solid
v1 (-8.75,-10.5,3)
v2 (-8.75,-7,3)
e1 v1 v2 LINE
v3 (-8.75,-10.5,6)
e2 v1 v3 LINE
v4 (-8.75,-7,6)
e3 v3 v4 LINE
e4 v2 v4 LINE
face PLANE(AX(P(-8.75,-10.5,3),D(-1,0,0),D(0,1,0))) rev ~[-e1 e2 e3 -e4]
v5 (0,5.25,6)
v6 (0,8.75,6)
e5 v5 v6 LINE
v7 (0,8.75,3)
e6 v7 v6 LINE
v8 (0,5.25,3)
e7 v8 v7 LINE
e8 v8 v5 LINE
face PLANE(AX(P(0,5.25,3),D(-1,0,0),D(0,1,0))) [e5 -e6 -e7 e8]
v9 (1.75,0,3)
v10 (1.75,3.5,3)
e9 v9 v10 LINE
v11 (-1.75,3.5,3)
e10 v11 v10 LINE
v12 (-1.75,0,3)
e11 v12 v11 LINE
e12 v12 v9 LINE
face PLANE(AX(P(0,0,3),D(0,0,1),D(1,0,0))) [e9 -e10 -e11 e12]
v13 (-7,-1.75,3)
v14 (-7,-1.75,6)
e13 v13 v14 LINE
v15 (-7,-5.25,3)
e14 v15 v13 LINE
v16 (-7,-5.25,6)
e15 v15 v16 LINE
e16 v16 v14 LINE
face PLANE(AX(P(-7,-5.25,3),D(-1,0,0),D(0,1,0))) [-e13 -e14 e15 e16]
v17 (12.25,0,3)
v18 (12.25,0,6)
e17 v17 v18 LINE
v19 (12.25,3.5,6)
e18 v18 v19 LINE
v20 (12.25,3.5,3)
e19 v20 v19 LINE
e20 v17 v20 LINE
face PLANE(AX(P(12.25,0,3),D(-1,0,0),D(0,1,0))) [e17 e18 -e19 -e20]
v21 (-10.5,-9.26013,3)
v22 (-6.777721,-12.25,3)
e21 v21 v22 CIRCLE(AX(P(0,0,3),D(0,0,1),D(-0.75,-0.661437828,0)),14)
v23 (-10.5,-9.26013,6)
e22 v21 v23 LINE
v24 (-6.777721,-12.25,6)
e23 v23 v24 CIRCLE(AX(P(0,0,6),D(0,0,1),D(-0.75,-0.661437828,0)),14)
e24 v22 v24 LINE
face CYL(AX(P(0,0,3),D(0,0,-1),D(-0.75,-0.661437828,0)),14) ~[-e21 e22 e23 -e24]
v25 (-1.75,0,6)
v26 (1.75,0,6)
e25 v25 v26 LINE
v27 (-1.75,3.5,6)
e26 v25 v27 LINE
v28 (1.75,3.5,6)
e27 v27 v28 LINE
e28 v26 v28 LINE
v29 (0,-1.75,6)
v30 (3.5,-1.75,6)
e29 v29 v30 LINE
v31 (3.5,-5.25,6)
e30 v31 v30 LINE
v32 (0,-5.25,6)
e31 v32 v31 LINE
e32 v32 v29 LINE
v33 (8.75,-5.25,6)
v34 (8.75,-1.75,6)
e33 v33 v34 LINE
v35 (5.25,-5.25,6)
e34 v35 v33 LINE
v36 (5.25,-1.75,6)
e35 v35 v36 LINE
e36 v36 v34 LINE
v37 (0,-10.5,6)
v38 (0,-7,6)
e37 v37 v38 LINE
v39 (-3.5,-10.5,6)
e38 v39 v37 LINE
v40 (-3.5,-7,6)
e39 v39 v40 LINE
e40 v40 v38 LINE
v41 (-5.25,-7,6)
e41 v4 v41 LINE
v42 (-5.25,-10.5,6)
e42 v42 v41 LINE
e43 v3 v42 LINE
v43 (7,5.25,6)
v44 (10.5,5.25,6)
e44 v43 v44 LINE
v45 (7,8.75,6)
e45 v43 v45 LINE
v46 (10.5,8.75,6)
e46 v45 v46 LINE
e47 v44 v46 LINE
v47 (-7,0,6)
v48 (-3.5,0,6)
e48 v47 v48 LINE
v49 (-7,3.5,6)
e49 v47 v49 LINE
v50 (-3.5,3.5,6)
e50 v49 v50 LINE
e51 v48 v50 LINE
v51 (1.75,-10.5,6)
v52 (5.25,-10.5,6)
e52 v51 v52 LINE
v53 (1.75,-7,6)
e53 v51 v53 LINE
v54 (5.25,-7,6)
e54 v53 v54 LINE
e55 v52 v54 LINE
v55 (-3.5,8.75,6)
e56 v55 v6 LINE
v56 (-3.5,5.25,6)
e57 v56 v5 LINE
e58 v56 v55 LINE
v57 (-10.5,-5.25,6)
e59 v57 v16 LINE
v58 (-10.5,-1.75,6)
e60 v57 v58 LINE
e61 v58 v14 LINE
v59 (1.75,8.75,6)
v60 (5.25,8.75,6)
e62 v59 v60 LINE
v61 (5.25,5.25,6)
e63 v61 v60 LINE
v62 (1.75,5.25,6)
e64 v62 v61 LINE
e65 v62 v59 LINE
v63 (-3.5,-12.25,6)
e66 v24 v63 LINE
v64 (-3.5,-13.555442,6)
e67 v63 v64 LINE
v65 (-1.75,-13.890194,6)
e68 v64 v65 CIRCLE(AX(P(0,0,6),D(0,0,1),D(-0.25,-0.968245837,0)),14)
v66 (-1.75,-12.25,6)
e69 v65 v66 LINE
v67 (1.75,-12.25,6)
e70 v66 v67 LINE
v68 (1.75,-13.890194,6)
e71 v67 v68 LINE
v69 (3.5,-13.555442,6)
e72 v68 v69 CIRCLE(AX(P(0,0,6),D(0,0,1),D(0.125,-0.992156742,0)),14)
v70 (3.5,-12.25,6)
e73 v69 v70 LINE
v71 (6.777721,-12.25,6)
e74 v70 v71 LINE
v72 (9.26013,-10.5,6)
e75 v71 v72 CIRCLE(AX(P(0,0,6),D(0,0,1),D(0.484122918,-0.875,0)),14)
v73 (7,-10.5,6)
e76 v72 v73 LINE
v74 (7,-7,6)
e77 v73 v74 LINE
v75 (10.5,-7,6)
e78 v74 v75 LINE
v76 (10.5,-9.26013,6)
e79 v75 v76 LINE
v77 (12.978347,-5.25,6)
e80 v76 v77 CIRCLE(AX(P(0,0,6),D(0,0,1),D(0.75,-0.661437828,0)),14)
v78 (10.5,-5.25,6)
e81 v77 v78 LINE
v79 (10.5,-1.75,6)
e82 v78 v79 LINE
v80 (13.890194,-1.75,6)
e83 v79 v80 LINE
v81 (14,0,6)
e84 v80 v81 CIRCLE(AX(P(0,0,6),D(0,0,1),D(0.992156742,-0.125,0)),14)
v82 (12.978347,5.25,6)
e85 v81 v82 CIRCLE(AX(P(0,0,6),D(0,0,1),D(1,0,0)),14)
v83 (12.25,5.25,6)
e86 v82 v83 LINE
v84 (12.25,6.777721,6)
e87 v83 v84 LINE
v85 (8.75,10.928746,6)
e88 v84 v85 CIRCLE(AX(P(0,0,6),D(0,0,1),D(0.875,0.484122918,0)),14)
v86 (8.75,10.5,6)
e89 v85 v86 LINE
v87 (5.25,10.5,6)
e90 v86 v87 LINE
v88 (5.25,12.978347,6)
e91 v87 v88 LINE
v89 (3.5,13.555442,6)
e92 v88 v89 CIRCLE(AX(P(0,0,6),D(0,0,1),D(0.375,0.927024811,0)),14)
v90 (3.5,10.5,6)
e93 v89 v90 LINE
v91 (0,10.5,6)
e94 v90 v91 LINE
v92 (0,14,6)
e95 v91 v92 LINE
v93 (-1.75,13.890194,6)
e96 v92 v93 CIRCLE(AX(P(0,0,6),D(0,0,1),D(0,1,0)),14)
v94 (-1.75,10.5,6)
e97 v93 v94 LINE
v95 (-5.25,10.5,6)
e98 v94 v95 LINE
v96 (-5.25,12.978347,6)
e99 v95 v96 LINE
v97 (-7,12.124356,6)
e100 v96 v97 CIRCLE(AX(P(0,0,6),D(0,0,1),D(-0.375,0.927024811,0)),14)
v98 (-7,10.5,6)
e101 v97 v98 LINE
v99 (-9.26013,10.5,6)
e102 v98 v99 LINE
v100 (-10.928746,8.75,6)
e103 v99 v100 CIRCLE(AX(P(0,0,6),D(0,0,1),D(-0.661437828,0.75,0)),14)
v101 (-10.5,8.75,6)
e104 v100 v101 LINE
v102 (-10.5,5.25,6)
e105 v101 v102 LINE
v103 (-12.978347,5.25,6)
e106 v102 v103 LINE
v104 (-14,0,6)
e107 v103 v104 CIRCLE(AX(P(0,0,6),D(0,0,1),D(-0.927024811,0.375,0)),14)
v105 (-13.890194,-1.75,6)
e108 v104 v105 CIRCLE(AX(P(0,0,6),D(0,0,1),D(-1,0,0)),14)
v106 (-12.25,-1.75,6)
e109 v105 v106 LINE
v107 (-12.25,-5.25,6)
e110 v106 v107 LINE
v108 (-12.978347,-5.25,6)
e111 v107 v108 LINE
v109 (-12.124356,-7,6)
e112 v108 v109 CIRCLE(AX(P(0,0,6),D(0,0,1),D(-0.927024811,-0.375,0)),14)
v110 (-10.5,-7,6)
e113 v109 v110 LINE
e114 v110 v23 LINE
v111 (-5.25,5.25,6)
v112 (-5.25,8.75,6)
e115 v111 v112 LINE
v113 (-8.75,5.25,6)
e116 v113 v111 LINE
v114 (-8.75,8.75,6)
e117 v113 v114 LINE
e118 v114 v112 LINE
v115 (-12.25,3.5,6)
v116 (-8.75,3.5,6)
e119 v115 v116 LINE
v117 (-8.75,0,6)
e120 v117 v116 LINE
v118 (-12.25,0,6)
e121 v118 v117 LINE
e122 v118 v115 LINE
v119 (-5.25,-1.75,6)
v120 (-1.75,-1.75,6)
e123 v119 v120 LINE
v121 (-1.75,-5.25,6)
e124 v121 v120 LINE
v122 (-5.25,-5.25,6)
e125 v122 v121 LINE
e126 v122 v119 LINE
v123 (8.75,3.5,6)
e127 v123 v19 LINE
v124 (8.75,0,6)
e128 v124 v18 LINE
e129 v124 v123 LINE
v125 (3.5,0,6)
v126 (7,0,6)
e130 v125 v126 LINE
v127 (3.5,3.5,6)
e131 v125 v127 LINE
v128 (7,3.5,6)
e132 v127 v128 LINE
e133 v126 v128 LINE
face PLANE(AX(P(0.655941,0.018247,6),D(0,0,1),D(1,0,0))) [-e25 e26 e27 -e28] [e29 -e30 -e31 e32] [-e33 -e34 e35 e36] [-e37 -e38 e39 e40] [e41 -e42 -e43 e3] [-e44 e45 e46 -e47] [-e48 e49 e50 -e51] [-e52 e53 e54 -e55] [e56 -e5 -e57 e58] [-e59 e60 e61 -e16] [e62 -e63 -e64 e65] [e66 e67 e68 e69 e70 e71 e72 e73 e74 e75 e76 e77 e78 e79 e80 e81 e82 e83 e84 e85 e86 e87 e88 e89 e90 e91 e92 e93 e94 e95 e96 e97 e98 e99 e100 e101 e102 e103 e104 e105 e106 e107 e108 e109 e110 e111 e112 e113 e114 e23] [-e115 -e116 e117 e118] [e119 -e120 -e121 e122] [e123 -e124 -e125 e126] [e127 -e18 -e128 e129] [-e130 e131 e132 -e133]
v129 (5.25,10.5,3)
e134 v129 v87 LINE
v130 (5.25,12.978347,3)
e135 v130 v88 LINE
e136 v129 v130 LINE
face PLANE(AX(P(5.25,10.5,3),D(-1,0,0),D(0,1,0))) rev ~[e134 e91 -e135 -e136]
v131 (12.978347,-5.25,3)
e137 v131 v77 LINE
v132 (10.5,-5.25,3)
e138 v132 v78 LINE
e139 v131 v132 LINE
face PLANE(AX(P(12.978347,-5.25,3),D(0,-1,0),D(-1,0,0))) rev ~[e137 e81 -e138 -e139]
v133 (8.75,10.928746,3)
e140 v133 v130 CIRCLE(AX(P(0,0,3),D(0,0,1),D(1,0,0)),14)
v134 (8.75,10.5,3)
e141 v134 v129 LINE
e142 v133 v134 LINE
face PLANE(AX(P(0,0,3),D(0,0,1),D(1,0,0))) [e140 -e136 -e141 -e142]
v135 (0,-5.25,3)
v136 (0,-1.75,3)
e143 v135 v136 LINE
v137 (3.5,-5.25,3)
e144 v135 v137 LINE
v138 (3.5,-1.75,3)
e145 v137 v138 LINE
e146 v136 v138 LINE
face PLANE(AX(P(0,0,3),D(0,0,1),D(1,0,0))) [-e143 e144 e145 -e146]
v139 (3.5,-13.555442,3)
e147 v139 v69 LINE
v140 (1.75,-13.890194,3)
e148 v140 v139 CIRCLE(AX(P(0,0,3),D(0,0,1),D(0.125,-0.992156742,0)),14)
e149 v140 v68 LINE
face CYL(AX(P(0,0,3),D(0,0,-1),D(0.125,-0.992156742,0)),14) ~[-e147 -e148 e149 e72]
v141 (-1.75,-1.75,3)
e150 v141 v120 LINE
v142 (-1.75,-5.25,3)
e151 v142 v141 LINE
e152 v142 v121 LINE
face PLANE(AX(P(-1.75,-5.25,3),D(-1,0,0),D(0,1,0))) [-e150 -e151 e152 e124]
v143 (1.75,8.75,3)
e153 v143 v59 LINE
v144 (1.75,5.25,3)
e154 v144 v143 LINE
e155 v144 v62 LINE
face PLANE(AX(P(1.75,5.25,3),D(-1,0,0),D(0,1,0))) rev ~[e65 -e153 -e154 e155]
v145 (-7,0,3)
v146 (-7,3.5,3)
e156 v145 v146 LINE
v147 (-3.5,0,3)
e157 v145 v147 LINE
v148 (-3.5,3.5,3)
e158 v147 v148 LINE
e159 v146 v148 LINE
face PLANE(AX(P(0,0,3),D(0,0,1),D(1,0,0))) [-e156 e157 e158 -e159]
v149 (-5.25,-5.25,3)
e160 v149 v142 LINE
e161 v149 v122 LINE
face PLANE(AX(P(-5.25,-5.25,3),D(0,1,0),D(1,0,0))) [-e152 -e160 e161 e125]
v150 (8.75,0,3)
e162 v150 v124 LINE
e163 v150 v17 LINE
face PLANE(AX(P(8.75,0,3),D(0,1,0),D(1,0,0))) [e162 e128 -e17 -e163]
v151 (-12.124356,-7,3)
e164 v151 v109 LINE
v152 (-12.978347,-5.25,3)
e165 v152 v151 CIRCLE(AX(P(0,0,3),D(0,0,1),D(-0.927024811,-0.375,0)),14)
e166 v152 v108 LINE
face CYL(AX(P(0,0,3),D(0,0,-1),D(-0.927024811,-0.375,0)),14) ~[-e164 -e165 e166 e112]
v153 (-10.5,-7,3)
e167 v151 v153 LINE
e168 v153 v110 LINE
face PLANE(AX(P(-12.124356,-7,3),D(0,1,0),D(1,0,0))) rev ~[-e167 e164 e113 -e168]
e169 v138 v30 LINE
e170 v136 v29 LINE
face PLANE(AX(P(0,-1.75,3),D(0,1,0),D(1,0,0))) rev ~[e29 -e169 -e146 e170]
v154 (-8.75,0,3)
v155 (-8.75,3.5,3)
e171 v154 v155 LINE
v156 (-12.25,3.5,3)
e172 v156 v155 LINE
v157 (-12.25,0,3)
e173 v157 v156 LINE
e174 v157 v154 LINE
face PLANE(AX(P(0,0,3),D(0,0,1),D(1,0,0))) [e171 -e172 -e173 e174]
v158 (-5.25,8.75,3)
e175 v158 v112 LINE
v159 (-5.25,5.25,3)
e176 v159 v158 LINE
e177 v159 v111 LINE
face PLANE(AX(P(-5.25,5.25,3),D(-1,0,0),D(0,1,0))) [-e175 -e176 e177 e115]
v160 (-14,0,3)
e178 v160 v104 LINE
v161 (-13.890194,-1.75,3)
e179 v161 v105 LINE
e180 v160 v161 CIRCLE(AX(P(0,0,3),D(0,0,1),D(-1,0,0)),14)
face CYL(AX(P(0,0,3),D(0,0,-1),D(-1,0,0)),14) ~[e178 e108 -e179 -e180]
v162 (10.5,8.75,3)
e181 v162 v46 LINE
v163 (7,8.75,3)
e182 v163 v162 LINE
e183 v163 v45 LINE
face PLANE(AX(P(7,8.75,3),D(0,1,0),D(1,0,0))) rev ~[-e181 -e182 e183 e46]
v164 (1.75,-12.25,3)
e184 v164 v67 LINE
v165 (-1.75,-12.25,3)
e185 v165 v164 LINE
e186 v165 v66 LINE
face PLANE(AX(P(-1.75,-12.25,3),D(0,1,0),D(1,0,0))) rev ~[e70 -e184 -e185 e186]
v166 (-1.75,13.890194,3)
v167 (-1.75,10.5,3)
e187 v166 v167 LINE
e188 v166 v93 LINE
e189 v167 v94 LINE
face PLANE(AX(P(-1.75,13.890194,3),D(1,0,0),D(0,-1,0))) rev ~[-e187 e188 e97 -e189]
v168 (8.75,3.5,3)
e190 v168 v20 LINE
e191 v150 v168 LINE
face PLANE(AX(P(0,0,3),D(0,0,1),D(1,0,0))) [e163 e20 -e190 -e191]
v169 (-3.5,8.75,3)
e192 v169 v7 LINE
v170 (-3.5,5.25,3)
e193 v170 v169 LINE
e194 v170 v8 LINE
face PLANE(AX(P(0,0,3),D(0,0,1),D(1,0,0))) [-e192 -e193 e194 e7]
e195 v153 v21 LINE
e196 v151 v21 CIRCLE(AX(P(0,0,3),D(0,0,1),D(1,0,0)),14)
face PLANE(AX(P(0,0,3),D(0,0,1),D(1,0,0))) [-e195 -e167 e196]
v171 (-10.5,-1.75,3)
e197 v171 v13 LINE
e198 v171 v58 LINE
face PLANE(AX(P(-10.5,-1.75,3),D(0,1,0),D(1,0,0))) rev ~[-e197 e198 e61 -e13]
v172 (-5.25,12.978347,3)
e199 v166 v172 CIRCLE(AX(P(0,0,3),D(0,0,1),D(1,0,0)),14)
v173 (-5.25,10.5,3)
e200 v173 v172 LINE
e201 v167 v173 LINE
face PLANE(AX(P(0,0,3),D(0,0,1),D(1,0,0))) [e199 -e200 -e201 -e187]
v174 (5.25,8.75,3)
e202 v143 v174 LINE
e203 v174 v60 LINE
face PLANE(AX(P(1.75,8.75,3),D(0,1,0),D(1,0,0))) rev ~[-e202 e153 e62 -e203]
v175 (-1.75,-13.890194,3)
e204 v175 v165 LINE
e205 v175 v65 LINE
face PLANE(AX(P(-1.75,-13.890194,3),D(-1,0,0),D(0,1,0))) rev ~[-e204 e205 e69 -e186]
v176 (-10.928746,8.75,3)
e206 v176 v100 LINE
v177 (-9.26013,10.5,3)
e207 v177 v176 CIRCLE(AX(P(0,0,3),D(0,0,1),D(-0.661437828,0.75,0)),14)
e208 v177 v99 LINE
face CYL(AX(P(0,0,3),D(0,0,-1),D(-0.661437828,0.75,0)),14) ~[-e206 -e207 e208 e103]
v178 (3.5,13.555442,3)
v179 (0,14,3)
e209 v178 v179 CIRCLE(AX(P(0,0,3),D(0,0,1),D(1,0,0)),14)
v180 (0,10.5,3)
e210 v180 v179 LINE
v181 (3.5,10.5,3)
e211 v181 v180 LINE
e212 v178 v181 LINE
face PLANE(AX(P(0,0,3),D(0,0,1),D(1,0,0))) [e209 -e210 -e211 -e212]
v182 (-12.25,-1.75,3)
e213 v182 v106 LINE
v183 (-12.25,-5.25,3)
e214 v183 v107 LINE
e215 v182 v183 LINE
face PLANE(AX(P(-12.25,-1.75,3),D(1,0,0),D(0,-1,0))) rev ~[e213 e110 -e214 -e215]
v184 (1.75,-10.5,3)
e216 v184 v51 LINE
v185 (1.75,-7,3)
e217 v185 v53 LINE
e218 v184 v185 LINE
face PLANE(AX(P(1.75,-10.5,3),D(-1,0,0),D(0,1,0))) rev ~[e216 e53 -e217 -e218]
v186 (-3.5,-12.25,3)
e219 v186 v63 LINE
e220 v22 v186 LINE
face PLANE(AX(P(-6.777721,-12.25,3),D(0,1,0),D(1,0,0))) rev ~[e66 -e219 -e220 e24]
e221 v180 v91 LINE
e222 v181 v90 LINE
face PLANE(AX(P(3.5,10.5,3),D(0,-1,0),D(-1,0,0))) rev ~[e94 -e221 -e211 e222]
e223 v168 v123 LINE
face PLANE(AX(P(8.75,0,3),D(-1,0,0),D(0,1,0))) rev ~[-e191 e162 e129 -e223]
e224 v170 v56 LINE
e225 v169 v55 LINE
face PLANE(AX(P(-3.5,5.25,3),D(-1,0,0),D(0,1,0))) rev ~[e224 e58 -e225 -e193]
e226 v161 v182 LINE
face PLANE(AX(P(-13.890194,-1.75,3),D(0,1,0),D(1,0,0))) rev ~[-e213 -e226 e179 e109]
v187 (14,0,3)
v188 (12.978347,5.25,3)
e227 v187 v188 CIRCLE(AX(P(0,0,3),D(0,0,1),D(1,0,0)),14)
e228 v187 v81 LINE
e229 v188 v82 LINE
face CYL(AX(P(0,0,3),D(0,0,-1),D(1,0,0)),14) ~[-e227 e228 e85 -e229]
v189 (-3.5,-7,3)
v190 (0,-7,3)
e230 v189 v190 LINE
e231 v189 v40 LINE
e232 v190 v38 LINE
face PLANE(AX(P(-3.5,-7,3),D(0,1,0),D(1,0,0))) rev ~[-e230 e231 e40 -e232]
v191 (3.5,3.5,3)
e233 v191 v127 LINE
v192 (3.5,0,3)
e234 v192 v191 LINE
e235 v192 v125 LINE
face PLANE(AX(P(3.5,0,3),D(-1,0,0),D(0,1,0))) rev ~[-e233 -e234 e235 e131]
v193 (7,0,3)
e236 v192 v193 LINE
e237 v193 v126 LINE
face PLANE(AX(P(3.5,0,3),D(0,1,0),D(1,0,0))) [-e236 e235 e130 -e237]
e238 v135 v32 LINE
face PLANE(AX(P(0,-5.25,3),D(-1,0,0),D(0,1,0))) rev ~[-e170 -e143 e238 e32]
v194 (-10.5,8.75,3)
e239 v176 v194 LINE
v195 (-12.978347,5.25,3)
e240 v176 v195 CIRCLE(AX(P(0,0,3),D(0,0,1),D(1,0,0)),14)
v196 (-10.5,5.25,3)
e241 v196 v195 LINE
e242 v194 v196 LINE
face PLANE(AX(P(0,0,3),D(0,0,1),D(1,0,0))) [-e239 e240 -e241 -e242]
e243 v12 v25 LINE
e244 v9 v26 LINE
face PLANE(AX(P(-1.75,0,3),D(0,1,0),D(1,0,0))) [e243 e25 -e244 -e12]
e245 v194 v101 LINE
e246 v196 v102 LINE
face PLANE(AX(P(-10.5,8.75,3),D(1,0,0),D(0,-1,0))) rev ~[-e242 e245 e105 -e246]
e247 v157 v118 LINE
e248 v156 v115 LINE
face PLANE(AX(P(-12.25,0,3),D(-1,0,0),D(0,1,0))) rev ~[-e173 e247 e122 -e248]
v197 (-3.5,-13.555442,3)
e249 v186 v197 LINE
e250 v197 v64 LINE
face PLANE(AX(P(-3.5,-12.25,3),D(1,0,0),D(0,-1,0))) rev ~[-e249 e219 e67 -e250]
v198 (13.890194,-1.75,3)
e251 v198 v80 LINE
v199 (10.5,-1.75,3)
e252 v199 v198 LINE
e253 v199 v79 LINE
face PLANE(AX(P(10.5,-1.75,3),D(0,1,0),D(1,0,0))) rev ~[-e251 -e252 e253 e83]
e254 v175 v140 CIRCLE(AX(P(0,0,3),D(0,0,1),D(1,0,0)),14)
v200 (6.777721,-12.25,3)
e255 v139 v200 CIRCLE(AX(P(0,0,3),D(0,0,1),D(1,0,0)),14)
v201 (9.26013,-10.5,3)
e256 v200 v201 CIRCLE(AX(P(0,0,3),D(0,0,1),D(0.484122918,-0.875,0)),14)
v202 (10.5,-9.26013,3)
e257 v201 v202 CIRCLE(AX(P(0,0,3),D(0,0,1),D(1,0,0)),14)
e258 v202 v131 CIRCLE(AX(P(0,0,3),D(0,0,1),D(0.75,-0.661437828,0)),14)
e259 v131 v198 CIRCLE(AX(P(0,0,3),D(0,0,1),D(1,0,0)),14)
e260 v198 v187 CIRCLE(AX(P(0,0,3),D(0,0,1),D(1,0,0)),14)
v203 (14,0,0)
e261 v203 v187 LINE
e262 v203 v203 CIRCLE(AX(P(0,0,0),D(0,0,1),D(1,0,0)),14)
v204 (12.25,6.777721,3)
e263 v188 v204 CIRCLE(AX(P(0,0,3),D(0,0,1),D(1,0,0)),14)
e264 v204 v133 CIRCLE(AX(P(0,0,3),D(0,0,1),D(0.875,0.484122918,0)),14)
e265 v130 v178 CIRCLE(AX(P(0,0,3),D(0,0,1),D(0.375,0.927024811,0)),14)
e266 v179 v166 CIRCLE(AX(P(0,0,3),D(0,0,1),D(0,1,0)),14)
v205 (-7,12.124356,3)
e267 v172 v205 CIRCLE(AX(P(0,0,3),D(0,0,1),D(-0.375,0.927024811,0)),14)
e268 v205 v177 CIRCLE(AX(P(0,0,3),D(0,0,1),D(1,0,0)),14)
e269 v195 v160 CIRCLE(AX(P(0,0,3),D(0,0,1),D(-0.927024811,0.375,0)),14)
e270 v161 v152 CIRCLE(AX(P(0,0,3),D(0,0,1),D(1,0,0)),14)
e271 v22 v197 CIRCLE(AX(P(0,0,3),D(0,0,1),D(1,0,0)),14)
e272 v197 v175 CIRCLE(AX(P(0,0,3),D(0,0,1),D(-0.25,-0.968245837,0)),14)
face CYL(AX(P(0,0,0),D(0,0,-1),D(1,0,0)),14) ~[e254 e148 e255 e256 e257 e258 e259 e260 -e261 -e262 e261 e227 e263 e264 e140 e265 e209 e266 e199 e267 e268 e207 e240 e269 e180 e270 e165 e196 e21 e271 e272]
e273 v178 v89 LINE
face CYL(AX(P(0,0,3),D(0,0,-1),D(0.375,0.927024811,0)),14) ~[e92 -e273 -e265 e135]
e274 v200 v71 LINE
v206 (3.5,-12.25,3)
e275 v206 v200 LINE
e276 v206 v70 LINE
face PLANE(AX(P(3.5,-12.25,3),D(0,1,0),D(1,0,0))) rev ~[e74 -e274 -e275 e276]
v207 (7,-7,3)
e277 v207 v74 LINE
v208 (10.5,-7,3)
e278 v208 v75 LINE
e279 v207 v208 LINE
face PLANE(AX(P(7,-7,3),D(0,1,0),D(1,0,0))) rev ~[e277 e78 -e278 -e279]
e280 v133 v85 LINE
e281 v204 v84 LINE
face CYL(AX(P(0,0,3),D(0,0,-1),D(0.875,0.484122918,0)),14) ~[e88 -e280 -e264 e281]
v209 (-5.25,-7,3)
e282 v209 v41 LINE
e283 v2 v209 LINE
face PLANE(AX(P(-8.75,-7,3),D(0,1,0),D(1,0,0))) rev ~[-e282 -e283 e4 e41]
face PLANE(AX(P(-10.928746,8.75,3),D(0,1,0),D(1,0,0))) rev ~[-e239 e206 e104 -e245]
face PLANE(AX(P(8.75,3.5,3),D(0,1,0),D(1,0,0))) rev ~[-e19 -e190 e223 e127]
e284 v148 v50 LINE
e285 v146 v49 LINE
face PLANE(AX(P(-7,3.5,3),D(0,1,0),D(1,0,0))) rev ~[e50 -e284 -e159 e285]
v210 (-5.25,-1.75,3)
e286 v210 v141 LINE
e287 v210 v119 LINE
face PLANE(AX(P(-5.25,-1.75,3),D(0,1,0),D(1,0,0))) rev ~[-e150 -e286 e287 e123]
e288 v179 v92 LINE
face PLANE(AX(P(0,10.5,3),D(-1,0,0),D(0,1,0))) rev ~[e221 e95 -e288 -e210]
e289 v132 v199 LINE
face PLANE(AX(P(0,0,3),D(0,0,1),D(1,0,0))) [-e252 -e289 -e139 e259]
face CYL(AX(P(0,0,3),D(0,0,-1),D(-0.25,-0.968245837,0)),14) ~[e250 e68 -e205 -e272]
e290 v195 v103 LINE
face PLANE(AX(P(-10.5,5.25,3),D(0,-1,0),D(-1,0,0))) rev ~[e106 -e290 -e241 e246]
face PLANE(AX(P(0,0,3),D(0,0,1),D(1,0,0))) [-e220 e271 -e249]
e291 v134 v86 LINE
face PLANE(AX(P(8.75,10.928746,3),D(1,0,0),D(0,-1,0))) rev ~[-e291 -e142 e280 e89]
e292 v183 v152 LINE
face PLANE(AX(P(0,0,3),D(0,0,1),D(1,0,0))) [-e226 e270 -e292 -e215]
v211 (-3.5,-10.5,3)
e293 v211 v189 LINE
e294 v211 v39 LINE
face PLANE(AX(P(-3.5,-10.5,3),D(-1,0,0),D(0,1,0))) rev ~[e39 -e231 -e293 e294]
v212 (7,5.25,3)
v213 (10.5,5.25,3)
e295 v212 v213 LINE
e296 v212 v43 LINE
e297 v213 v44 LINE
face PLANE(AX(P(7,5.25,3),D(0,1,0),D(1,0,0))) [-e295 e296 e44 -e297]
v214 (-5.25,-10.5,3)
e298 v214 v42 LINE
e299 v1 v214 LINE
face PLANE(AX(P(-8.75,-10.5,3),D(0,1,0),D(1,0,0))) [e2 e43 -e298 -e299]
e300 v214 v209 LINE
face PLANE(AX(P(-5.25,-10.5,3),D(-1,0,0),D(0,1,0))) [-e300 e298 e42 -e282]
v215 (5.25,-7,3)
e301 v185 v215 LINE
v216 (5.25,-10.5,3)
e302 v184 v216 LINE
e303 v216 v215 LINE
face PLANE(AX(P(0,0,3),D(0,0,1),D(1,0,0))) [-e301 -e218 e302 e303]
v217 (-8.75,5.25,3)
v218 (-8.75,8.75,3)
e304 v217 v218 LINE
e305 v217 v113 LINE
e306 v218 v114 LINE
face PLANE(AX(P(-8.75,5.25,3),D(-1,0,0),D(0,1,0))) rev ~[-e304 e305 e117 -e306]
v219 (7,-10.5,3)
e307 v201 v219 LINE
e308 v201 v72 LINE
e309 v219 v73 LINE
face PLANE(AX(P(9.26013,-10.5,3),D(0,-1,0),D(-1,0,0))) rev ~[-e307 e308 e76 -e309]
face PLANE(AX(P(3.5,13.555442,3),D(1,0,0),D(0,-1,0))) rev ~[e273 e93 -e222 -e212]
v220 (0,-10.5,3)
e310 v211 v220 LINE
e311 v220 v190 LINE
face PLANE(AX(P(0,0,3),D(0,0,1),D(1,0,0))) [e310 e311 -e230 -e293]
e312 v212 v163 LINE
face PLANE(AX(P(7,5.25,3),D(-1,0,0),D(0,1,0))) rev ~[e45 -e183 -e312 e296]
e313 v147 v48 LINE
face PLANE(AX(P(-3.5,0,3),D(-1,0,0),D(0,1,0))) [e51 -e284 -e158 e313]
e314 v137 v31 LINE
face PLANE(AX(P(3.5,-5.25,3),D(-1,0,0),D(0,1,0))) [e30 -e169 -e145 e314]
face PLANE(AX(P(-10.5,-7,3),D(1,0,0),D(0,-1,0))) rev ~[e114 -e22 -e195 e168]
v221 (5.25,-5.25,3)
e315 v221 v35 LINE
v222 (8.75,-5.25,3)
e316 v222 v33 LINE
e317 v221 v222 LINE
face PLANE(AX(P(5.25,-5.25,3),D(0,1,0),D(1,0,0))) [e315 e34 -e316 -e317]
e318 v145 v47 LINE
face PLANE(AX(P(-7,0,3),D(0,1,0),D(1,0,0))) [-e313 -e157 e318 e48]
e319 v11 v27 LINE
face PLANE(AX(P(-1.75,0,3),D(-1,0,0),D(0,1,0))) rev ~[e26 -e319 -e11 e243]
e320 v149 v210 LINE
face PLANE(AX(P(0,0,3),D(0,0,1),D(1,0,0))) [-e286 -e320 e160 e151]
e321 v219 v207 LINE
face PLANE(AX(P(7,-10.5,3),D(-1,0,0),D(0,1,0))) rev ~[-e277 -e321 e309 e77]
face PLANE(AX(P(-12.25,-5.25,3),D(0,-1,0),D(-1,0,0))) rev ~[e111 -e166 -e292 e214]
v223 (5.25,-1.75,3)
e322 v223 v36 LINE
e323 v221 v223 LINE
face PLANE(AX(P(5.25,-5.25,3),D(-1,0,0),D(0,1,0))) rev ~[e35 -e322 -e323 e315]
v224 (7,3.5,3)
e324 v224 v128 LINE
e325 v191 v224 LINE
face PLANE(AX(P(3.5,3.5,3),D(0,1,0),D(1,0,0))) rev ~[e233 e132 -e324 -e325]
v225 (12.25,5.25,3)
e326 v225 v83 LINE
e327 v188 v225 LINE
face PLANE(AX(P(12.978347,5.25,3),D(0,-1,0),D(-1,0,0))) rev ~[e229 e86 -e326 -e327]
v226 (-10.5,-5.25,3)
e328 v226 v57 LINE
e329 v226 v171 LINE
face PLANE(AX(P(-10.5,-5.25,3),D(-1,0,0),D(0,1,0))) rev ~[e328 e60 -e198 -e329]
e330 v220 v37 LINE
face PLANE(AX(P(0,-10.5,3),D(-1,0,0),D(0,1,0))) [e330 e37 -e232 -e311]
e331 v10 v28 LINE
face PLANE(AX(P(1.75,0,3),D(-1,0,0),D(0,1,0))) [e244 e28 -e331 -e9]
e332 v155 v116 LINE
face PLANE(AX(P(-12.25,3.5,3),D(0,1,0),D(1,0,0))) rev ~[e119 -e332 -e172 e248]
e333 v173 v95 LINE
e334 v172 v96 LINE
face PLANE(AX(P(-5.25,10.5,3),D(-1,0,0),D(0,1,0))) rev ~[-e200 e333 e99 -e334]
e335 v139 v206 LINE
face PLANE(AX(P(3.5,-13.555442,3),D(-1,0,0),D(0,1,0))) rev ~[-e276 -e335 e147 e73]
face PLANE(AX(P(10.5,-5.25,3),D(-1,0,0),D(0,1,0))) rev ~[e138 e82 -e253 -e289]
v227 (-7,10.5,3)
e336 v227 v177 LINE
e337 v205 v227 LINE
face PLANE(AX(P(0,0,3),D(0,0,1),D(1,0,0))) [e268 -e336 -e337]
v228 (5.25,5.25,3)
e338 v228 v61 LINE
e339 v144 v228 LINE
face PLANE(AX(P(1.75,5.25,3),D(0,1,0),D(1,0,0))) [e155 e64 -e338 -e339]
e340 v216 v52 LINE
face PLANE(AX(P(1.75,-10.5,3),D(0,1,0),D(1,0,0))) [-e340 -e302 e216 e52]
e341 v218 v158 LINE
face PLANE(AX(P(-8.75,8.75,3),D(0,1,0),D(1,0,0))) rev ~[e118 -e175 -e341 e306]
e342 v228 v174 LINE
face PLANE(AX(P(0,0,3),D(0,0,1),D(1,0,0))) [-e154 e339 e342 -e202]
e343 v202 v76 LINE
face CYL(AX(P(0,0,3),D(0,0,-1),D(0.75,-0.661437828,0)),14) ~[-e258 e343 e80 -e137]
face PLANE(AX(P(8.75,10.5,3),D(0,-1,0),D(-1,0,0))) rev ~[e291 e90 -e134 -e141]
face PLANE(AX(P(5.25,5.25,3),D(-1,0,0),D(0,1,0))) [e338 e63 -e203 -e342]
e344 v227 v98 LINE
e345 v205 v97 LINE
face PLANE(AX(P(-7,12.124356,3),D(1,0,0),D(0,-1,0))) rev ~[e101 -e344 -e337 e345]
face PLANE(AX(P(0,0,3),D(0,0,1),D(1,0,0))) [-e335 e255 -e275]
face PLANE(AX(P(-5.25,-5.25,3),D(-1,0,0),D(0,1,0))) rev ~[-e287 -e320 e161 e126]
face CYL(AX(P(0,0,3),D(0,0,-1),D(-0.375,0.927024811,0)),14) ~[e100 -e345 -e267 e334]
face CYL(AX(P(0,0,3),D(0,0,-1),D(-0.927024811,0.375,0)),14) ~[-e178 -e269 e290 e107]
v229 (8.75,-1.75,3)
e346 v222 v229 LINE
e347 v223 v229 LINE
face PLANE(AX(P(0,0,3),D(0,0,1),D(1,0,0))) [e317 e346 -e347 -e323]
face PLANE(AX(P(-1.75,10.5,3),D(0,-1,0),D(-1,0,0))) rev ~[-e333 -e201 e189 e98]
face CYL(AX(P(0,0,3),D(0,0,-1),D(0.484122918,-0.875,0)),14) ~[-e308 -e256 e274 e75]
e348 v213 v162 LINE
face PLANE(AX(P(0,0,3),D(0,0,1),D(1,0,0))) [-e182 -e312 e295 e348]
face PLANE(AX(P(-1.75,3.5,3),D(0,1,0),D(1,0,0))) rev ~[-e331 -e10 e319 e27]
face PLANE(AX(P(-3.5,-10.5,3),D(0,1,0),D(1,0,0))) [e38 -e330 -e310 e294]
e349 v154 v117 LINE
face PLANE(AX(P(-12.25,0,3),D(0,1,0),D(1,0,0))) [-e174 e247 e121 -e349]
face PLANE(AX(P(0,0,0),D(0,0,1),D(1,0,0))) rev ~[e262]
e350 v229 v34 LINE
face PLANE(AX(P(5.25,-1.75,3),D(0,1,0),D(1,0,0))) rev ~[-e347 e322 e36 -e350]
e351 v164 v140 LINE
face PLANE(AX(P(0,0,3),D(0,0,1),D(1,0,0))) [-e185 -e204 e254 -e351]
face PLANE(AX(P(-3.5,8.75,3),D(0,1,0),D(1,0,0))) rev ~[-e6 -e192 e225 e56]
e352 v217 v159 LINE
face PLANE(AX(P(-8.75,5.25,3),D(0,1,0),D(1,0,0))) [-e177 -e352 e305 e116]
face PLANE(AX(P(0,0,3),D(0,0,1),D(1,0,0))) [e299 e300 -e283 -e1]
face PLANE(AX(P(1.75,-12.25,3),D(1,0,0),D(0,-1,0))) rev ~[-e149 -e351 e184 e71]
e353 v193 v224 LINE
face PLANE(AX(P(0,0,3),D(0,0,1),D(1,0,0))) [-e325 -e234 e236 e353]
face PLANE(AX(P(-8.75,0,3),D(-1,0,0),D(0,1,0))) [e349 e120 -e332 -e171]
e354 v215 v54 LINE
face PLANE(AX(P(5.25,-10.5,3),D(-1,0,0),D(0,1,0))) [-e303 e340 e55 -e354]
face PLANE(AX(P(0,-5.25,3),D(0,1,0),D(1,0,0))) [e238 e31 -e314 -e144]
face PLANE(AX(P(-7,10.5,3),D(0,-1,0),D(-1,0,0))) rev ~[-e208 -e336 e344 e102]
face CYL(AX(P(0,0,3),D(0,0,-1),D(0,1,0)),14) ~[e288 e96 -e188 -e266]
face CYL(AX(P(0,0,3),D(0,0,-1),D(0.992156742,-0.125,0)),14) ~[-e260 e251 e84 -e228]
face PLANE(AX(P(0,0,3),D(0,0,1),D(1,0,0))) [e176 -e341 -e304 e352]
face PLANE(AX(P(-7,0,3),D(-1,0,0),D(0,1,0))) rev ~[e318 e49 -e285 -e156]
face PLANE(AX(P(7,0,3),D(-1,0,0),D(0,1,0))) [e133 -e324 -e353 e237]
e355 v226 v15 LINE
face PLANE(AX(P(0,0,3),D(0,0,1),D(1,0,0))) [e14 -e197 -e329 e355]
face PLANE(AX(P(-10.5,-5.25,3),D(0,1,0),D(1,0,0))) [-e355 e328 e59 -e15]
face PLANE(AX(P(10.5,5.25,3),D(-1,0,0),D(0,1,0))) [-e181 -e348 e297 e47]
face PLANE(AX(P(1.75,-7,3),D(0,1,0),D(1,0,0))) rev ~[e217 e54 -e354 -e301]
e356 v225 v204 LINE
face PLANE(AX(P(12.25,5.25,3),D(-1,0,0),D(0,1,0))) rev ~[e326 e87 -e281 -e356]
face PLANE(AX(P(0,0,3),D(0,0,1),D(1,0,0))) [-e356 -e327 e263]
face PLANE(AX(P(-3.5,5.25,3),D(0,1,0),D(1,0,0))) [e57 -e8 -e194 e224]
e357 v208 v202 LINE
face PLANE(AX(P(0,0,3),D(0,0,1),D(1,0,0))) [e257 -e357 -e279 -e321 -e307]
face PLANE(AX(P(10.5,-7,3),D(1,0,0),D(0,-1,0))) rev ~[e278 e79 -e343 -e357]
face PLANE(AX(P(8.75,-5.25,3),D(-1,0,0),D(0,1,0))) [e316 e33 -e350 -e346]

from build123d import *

# Parameters (mm, degrees)
F0_R     = 14
F1_DEPTH = 3
F2_W     = 3.5
F2_H     = 3.5
F3_DEPTH = 3


with BuildPart() as f1:
    # F0 (on Top) → F1 (new body)
    with BuildSketch(Plane.XY):
        Circle(F0_R)
    extrude(amount=F1_DEPTH)

    # F2 (on face) → F3 (join)
    with BuildSketch(Plane.XY.offset(3)):
        with BuildLine():
            ThreePointArc((-5.25, 12.9783473524), (-6.1398656708, 12.581814239), (-7, 12.124355653))
            Line((-7, 12.124355653), (-7, 10.5))
            Line((-7, 10.5), (-9.2601295887, 10.5))
            ThreePointArc((-9.2601295887, 10.5), (-10.1322901855, 9.6610918429), (-10.9287464972, 8.75))
            Line((-10.9287464972, 8.75), (-10.5, 8.75))
            Line((-10.5, 8.75), (-10.5, 5.25))
            Line((-10.5, 5.25), (-12.9783473524, 5.25))
            ThreePointArc((-12.9783473524, 5.25), (-13.742213485, 2.6742416744), (-14, 0))
            ThreePointArc((-14, 0), (-13.9725216293, -0.8767207756), (-13.8901943831, -1.75))
            Line((-13.8901943831, -1.75), (-12.25, -1.75))
            Line((-12.25, -1.75), (-12.25, -5.25))
            Line((-12.25, -5.25), (-12.9783473524, -5.25))
            ThreePointArc((-12.9783473524, -5.25), (-12.581814239, -6.1398656708), (-12.124355653, -7))
            Line((-12.124355653, -7), (-10.5, -7))
            Line((-10.5, -7), (-10.5, -9.2601295887))
            ThreePointArc((-10.5, -9.2601295887), (-8.7672538895, -10.914909951), (-6.7777208559, -12.25))
            Line((-6.7777208559, -12.25), (-3.5, -12.25))
            Line((-3.5, -12.25), (-3.5, -13.5554417117))
            ThreePointArc((-3.5, -13.5554417117), (-2.6303307468, -13.750685807), (-1.75, -13.8901943831))
            Line((-1.75, -13.8901943831), (-1.75, -12.25))
            Line((-1.75, -12.25), (1.75, -12.25))
            Line((1.75, -12.25), (1.75, -13.8901943831))
            ThreePointArc((1.75, -13.8901943831), (2.6303307468, -13.750685807), (3.5, -13.5554417117))
            Line((3.5, -13.5554417117), (3.5, -12.25))
            Line((3.5, -12.25), (6.7777208559, -12.25))
            ThreePointArc((6.7777208559, -12.25), (8.0665225916, -11.4425177858), (9.2601295887, -10.5))
            Line((9.2601295887, -10.5), (7, -10.5))
            Line((7, -10.5), (7, -7))
            Line((7, -7), (10.5, -7))
            Line((10.5, -7), (10.5, -9.2601295887))
            ThreePointArc((10.5, -9.2601295887), (11.9091764379, -7.3601302006), (12.9783473524, -5.25))
            Line((12.9783473524, -5.25), (10.5, -5.25))
            Line((10.5, -5.25), (10.5, -1.75))
            Line((10.5, -1.75), (13.8901943831, -1.75))
            ThreePointArc((13.8901943831, -1.75), (13.9725216293, -0.8767207756), (14, 0))
            ThreePointArc((14, 0), (13.742213485, 2.6742416744), (12.9783473524, 5.25))
            Line((12.9783473524, 5.25), (12.25, 5.25))
            Line((12.25, 5.25), (12.25, 6.7777208559))
            ThreePointArc((12.25, 6.7777208559), (10.7031655817, 9.024535807), (8.75, 10.9287464972))
            Line((8.75, 10.9287464972), (8.75, 10.5))
            Line((8.75, 10.5), (5.25, 10.5))
            Line((5.25, 10.5), (5.25, 12.9783473524))
            ThreePointArc((5.25, 12.9783473524), (4.3845050433, 13.2957179394), (3.5, 13.5554417117))
            Line((3.5, 13.5554417117), (3.5, 10.5))
            Line((3.5, 10.5), (0, 10.5))
            Line((0, 10.5), (0, 14))
            ThreePointArc((0, 14), (-0.8767207756, 13.9725216293), (-1.75, 13.8901943831))
            Line((-1.75, 13.8901943831), (-1.75, 10.5))
            Line((-1.75, 10.5), (-5.25, 10.5))
            Line((-5.25, 10.5), (-5.25, 12.9783473524))
        make_face()
        with Locations((-7, -8.75)):
            Rectangle(F2_W, F2_H, mode=Mode.SUBTRACT)
        with Locations((-1.75, -8.75)):
            Rectangle(F2_W, F2_H, mode=Mode.SUBTRACT)
        with Locations((3.5, -8.75)):
            Rectangle(F2_W, F2_H, mode=Mode.SUBTRACT)
        with Locations((-8.75, -3.5)):
            Rectangle(F2_W, F2_H, mode=Mode.SUBTRACT)
        with Locations((-3.5, -3.5)):
            Rectangle(F2_W, F2_H, mode=Mode.SUBTRACT)
        with Locations((1.75, -3.5)):
            Rectangle(F2_W, F2_H, mode=Mode.SUBTRACT)
        with Locations((7, -3.5)):
            Rectangle(F2_W, F2_H, mode=Mode.SUBTRACT)
        with Locations((-10.5, 1.75)):
            Rectangle(F2_W, F2_H, mode=Mode.SUBTRACT)
        with Locations((-5.25, 1.75)):
            Rectangle(F2_W, F2_H, mode=Mode.SUBTRACT)
        with Locations((0, 1.75)):
            Rectangle(F2_W, F2_H, mode=Mode.SUBTRACT)
        with Locations((5.25, 1.75)):
            Rectangle(F2_W, F2_H, mode=Mode.SUBTRACT)
        with Locations((-7, 7)):
            Rectangle(F2_W, F2_H, mode=Mode.SUBTRACT)
        with Locations((-1.75, 7)):
            Rectangle(F2_W, F2_H, mode=Mode.SUBTRACT)
        with Locations((3.5, 7)):
            Rectangle(F2_W, F2_H, mode=Mode.SUBTRACT)
        with Locations((10.5, 1.75)):
            Rectangle(F2_W, F2_H, mode=Mode.SUBTRACT)
        with Locations((8.75, 7)):
            Rectangle(F2_W, F2_H, mode=Mode.SUBTRACT)
    extrude(amount=F3_DEPTH)


solid = f1.part
